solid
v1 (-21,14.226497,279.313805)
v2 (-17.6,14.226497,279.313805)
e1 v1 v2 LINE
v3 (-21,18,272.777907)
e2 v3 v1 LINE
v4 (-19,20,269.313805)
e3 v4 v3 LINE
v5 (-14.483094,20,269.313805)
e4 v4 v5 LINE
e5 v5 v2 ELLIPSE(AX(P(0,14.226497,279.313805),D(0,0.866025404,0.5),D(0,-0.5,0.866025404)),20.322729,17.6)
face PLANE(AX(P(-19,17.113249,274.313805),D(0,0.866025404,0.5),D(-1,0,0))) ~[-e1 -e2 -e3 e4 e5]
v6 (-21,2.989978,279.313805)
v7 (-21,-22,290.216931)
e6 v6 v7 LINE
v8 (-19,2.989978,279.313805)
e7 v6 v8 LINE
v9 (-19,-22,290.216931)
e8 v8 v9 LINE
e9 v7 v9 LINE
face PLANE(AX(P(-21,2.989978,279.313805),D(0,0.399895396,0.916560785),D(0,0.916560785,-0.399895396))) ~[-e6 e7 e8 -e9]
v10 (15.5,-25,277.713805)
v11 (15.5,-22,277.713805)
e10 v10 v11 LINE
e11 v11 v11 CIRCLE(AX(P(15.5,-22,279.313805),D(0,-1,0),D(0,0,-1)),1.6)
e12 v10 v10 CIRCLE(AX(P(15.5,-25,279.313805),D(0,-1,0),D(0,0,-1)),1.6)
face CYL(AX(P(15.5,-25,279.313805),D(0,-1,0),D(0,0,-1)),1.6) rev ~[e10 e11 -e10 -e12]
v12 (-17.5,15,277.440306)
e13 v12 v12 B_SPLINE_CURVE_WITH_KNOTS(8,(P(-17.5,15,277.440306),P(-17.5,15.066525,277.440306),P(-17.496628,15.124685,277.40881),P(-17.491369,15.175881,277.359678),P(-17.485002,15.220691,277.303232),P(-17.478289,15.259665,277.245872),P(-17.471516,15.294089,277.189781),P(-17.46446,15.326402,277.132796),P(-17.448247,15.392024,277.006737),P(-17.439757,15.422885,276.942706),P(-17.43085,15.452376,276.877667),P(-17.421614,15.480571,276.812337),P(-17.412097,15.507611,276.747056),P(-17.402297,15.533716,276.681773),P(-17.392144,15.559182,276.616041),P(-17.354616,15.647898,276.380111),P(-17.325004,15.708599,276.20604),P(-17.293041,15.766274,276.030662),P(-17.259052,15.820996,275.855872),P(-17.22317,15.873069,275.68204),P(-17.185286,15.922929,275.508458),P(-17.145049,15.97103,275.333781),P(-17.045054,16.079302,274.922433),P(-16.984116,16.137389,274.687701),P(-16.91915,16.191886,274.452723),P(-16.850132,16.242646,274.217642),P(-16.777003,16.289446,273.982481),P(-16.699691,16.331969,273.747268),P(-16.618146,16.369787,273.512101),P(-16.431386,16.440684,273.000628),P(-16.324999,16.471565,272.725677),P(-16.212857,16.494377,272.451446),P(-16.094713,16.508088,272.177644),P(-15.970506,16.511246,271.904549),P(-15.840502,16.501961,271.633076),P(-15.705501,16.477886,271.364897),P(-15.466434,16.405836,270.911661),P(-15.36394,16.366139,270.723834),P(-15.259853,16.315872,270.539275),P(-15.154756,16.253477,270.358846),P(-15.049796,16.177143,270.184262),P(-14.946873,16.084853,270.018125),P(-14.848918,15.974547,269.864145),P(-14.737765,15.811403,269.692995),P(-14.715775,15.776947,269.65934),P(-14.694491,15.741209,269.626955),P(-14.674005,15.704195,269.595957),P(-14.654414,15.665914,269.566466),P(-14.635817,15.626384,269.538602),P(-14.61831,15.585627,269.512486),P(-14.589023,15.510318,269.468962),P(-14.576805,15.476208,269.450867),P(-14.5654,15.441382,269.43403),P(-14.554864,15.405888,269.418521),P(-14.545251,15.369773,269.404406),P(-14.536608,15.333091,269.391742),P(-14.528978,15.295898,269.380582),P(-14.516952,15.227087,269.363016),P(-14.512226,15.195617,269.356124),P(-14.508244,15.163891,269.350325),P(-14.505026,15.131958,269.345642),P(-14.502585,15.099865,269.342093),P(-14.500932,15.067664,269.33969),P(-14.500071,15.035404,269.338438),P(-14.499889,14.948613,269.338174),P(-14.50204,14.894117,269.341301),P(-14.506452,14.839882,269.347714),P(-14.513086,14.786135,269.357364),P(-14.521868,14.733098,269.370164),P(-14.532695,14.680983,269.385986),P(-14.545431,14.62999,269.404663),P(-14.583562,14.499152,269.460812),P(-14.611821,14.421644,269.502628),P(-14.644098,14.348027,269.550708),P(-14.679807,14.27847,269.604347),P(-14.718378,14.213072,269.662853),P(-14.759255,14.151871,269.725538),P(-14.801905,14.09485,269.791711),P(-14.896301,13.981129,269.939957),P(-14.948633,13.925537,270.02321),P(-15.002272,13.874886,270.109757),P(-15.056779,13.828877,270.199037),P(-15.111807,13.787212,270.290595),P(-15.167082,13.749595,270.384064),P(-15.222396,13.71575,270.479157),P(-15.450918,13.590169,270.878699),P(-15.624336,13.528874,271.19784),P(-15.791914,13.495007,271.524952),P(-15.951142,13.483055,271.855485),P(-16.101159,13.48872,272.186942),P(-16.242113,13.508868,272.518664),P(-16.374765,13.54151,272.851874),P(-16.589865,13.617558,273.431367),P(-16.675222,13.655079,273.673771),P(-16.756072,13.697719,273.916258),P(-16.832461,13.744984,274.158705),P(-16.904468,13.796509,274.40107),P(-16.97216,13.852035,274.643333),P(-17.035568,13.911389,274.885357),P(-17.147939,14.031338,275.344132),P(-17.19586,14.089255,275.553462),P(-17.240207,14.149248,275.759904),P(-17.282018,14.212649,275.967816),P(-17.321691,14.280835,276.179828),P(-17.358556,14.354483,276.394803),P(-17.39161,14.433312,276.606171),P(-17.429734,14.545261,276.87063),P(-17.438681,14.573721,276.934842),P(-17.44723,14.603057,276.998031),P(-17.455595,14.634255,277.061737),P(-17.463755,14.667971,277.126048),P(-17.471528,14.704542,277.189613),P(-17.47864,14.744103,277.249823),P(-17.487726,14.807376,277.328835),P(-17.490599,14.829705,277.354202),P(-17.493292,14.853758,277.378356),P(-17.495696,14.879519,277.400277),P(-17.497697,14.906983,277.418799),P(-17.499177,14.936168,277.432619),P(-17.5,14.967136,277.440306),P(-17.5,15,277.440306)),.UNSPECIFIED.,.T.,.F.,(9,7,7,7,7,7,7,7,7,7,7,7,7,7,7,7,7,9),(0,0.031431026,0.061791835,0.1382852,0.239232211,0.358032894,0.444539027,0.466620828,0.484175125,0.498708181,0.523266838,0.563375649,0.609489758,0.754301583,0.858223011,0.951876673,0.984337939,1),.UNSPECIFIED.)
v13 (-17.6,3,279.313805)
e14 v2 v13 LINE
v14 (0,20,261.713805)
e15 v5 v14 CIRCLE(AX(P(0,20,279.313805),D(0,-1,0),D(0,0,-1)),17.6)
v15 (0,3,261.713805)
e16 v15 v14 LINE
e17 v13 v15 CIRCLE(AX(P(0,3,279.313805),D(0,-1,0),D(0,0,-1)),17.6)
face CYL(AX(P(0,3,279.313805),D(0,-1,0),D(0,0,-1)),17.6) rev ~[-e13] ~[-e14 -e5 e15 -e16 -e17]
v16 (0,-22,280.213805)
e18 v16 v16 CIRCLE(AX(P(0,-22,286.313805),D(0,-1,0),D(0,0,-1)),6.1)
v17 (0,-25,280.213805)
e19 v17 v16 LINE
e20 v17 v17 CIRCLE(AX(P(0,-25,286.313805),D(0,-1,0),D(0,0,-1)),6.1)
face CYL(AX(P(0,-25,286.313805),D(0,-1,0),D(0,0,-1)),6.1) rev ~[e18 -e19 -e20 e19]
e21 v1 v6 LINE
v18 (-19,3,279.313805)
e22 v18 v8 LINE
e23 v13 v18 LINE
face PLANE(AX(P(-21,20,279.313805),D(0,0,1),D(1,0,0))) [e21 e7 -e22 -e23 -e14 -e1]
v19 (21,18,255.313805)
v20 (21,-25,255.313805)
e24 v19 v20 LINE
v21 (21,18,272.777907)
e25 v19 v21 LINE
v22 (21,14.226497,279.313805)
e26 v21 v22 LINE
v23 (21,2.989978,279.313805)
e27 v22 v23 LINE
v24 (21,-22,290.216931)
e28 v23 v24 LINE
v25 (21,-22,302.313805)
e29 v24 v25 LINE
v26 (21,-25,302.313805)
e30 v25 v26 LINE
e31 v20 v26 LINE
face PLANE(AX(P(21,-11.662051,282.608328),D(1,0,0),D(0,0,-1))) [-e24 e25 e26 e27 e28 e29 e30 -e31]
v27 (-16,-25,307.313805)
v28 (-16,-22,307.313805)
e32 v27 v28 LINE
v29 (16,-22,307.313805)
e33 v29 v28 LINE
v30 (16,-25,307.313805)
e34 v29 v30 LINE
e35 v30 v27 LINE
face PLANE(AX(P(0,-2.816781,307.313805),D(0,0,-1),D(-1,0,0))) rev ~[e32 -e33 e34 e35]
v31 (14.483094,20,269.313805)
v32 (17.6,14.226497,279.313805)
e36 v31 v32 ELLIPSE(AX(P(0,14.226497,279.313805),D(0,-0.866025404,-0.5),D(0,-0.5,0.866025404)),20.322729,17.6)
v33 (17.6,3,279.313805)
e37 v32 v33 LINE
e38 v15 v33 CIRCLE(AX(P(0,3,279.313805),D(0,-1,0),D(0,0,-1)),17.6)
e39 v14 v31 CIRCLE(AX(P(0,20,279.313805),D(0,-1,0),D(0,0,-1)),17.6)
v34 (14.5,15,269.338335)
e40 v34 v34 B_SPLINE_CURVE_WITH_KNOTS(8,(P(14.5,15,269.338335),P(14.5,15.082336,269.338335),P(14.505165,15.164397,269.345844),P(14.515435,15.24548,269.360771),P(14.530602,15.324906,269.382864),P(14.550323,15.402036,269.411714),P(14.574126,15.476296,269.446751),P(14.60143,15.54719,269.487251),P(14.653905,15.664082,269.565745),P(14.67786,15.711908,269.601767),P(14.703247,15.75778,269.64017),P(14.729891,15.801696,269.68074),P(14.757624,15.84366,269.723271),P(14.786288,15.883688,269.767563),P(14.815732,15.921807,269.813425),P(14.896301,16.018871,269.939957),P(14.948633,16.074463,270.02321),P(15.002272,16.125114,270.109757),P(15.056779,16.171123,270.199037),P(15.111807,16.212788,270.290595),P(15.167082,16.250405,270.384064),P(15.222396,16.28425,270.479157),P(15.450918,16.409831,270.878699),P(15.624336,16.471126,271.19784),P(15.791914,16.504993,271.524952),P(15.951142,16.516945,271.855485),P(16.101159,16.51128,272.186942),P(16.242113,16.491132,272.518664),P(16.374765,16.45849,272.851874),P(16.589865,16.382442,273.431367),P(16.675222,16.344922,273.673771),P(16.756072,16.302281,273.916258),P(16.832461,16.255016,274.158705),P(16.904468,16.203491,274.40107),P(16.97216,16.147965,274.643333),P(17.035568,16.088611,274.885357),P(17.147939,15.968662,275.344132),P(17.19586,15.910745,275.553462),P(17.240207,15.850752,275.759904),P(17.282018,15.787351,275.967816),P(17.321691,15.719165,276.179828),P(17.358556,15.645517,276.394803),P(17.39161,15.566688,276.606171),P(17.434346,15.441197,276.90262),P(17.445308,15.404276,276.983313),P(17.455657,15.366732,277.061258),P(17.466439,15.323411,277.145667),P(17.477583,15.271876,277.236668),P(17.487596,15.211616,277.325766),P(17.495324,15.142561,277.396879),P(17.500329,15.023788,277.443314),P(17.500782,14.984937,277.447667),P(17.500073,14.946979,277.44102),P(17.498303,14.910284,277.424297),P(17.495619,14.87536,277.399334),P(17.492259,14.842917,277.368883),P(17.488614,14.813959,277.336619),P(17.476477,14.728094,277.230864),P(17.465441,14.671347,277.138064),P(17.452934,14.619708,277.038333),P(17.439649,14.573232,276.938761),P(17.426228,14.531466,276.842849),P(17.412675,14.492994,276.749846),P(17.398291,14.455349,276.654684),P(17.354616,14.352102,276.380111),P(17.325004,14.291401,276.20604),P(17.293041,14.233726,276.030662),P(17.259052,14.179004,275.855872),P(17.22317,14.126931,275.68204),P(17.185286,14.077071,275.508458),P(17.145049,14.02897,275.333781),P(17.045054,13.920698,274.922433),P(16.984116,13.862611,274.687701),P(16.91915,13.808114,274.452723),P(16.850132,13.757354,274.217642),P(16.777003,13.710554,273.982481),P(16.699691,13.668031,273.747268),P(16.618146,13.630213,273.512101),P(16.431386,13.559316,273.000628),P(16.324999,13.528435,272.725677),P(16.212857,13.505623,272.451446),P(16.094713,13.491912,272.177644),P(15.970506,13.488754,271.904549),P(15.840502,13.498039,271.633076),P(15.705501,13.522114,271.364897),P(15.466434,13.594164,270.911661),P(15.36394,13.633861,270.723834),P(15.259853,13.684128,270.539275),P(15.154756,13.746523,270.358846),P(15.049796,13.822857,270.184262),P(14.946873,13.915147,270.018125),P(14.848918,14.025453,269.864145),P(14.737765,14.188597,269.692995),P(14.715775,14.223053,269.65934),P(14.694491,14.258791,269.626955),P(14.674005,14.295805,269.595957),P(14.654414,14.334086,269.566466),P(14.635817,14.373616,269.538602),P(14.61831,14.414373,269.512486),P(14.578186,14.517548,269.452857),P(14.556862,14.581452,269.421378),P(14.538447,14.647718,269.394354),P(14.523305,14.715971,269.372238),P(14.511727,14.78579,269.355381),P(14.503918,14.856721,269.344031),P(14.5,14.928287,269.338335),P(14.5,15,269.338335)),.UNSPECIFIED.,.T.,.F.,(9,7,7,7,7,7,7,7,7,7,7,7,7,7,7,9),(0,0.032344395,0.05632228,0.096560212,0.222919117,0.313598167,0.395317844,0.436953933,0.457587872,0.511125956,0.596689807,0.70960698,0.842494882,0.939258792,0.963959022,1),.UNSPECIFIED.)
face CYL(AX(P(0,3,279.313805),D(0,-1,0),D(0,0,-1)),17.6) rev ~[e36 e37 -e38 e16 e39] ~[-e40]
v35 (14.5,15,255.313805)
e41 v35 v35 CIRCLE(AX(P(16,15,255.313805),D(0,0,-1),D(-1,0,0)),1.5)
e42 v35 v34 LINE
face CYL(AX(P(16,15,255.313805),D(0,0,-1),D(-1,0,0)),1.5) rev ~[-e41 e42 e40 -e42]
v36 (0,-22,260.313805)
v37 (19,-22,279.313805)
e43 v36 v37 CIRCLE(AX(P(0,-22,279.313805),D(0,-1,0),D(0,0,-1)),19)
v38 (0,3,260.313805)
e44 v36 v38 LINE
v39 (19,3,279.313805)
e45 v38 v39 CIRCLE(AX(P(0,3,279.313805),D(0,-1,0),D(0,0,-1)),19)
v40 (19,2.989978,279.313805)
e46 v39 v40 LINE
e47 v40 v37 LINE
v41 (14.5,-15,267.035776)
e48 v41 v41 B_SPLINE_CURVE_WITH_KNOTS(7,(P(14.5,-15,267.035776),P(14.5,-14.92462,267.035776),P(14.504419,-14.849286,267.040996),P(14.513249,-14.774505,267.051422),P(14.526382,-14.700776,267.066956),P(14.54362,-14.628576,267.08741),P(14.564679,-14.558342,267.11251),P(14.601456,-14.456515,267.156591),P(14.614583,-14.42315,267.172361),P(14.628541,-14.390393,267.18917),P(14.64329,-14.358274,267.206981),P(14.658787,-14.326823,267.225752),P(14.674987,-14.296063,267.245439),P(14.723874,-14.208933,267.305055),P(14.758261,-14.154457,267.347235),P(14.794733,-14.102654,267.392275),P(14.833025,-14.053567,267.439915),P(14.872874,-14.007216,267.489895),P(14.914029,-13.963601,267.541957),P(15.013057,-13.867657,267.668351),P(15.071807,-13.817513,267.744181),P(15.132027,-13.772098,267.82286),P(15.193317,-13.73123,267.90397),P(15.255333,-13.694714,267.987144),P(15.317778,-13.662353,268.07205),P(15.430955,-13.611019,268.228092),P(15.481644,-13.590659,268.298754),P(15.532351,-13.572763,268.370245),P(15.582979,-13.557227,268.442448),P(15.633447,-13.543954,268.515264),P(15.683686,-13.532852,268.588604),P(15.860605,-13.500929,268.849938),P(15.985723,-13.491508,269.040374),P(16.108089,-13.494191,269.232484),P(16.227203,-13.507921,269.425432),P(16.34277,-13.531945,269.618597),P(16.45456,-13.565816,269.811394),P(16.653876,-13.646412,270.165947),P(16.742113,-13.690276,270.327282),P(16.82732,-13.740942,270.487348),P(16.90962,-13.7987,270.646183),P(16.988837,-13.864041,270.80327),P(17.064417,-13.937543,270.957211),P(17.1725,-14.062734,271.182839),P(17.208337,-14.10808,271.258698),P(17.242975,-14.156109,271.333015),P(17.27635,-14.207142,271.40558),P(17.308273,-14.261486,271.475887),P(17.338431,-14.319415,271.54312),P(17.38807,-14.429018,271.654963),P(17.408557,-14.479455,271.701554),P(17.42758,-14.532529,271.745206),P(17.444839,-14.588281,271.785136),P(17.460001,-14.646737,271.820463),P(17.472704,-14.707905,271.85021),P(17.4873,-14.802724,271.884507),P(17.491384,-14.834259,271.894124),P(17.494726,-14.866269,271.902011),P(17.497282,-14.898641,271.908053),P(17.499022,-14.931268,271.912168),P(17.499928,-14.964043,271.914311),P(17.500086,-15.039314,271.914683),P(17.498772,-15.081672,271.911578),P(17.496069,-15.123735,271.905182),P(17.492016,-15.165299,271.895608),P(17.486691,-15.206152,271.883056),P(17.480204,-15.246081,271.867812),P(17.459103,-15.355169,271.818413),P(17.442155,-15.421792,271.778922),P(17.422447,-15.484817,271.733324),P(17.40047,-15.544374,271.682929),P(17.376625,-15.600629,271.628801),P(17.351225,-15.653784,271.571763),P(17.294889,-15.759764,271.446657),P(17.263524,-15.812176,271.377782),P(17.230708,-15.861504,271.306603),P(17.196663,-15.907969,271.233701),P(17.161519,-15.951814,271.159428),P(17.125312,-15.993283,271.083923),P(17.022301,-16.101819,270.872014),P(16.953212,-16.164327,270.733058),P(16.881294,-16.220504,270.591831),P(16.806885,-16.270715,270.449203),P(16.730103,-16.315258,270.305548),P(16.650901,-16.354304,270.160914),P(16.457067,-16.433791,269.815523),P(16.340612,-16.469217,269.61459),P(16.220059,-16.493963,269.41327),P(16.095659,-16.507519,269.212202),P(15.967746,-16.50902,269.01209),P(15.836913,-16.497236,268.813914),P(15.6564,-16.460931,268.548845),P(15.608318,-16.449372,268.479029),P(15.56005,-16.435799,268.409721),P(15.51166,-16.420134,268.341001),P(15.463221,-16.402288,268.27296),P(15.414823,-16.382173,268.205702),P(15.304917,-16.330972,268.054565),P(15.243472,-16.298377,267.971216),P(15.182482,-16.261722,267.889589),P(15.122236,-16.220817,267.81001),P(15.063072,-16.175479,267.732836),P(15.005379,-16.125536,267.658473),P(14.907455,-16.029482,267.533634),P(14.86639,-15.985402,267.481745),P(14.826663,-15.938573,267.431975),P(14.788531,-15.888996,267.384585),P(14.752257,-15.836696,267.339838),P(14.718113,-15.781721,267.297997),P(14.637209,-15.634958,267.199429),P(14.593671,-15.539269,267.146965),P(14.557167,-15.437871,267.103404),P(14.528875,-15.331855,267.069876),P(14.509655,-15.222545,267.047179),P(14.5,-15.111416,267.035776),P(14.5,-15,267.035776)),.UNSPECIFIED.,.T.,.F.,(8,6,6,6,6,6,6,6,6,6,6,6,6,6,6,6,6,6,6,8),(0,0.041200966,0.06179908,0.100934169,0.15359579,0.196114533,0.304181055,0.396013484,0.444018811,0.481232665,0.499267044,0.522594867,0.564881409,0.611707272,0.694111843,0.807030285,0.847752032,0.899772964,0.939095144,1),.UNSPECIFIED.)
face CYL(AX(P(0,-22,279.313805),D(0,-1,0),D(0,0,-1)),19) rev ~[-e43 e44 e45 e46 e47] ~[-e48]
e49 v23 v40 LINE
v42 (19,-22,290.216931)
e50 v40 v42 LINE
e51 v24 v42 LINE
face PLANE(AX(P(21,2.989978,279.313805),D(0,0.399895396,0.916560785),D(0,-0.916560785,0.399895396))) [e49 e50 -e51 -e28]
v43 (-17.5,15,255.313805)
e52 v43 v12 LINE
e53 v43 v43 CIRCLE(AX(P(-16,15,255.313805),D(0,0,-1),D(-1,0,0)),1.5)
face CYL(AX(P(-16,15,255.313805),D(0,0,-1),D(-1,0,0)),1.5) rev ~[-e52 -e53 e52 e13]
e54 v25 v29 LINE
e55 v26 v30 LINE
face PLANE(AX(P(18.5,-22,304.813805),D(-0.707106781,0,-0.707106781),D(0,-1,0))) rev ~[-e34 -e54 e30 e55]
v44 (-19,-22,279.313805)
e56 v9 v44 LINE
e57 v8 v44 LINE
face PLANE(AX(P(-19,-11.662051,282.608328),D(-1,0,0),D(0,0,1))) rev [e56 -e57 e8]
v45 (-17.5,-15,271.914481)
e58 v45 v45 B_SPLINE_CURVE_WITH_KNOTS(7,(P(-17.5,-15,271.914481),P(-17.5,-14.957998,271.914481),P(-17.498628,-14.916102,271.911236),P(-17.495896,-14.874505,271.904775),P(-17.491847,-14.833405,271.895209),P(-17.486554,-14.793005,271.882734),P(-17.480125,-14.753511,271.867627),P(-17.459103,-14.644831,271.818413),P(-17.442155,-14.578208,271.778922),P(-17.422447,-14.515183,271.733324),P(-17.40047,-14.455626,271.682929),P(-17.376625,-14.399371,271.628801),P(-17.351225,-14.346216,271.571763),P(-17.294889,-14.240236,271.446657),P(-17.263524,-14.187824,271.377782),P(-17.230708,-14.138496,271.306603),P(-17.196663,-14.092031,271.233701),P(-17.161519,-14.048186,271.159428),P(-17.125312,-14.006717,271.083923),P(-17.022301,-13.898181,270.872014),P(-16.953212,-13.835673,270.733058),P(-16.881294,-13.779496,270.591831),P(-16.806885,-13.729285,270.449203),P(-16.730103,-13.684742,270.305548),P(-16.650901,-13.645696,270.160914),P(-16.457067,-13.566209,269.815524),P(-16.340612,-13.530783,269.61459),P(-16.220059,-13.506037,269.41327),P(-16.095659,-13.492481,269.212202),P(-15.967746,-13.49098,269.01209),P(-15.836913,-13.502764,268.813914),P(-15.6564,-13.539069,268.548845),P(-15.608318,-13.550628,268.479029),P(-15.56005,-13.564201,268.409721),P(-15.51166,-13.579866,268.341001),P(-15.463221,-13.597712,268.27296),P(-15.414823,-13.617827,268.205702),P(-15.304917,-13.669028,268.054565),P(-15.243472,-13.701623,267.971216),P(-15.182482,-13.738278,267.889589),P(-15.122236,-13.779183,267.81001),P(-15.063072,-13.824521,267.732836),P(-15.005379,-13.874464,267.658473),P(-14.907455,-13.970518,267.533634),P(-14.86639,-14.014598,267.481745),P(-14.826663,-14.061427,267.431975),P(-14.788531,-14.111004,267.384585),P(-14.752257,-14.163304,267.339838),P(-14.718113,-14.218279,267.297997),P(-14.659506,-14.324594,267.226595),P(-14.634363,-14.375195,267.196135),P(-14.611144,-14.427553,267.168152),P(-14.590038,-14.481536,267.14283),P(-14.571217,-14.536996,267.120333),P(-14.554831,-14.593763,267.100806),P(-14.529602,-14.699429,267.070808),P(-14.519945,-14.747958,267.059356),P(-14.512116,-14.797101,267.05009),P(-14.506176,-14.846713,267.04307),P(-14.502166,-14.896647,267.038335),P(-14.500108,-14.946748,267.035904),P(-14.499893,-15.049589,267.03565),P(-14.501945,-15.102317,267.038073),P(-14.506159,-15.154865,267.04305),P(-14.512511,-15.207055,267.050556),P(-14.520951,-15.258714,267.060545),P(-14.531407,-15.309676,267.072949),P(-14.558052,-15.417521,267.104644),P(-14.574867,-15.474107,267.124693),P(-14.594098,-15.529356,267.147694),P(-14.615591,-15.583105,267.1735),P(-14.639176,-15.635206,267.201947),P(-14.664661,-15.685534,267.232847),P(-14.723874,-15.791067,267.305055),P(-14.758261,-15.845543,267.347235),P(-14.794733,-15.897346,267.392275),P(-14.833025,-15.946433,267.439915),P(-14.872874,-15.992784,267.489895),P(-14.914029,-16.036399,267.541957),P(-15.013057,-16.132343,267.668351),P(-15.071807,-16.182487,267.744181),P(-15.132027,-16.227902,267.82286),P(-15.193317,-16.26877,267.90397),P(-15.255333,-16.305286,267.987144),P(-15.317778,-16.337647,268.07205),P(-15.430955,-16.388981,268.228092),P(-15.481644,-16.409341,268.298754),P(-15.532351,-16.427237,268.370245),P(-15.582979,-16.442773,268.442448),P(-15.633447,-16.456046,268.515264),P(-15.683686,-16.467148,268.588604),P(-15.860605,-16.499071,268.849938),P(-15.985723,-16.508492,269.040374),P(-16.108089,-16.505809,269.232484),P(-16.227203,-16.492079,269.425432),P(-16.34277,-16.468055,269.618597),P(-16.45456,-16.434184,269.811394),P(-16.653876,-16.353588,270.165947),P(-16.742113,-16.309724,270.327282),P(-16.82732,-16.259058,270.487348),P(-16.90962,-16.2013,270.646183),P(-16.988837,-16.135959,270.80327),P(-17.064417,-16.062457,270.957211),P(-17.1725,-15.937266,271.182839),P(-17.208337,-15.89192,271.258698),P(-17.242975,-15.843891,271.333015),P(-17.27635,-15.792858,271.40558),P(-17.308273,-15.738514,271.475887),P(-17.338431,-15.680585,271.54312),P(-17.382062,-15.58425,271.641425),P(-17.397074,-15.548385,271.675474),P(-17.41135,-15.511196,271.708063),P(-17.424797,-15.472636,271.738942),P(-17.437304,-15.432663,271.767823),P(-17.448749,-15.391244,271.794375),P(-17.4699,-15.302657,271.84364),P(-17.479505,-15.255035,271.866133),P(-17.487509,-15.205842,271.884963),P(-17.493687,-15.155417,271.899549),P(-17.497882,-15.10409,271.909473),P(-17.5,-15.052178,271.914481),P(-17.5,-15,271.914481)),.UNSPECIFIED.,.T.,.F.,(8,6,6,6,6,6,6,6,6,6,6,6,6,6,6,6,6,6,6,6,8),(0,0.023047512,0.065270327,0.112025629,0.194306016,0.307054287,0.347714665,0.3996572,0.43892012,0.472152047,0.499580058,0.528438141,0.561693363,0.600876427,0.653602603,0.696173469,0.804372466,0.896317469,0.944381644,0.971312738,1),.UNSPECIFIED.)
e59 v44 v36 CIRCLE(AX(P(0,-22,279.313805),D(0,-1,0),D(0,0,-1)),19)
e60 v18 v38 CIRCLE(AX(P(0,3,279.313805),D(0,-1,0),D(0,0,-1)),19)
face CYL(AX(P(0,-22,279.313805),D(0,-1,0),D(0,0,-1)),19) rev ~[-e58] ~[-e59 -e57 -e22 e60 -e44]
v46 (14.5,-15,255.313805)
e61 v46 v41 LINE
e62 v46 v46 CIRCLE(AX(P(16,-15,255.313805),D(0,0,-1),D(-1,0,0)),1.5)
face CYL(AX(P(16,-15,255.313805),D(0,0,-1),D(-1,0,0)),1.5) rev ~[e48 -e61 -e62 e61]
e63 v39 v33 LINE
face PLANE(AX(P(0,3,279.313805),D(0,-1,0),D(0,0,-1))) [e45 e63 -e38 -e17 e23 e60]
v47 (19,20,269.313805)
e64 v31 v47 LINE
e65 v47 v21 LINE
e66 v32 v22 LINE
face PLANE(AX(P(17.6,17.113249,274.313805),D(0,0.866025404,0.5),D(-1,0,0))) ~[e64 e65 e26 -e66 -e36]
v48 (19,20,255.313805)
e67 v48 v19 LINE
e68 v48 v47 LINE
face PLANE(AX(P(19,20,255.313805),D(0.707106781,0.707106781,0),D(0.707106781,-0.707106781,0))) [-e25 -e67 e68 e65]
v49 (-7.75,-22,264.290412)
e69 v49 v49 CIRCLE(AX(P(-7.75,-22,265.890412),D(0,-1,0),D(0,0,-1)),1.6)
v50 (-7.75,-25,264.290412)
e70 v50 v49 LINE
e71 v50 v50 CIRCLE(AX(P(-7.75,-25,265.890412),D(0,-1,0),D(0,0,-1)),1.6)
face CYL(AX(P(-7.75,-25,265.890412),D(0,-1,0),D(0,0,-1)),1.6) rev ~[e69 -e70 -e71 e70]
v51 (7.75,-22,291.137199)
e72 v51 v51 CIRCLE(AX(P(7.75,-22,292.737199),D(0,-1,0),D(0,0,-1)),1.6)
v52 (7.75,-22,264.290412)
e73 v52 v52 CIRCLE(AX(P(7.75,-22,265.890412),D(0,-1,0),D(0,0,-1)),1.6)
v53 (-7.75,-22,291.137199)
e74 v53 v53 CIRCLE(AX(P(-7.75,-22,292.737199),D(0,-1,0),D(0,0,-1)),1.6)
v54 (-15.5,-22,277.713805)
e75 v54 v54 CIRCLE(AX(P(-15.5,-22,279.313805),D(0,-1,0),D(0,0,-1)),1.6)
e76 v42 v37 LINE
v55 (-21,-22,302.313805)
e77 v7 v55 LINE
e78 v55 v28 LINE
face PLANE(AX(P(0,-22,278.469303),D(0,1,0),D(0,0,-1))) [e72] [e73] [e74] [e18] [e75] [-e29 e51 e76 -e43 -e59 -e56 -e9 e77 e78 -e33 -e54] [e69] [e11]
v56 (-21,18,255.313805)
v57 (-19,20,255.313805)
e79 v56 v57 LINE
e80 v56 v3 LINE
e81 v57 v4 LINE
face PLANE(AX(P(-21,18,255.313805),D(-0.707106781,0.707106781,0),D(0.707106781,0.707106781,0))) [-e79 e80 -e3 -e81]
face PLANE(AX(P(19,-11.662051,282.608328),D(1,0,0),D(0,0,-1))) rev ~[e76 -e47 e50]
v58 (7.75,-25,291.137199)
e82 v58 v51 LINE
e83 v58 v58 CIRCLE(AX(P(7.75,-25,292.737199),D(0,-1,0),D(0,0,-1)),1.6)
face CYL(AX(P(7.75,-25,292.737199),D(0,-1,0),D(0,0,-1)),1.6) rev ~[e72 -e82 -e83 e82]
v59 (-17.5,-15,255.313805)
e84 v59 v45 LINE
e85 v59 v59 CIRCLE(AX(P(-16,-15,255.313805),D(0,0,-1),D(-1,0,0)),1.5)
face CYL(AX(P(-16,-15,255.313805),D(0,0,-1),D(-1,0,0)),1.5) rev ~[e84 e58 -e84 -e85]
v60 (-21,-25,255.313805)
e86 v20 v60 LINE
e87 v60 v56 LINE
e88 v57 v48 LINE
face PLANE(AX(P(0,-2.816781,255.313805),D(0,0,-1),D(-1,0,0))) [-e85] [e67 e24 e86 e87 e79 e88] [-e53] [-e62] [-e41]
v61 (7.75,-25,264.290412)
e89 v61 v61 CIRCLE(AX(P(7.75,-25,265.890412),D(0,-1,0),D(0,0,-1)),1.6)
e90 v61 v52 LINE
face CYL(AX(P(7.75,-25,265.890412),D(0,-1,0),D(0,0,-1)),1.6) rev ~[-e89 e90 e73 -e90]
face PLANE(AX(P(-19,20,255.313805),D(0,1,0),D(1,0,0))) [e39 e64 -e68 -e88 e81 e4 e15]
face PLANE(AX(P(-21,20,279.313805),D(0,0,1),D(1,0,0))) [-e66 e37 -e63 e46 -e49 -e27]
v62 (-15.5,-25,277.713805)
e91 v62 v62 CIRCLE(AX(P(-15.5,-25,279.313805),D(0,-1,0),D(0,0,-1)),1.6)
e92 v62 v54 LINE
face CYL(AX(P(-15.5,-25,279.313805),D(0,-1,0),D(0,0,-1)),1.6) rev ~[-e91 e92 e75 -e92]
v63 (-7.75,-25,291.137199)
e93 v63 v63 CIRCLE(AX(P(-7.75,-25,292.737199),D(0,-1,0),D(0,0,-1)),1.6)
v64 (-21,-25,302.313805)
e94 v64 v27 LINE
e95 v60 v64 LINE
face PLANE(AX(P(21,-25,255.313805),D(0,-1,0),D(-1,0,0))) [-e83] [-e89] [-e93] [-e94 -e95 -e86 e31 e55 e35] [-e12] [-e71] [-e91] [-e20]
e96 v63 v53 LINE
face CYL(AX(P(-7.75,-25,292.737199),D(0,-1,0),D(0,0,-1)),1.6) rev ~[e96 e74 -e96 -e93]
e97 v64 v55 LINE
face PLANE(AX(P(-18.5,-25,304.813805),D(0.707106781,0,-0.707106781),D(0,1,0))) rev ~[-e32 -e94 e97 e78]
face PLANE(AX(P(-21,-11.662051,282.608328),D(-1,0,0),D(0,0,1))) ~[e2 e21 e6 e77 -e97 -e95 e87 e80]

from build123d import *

# Parameters (mm, degrees)
SKETCH_2_R          = 1.5
EXTRUDE_1_DEPTH     = 52
CUT_EXTRUDE_START   = -3
SKETCH_3_R          = 19
SKETCH_3_R_2        = 1.6
CUT_EXTRUDE_1_DEPTH = 25
SKETCH_3_3_R        = 1.6
CUT_EXTRUDE_2_DEPTH = 25
SKETCH_5_R          = 17.6
CUT_EXTRUDE_3_DEPTH = 310.300460798
SKETCH_6_R          = 6.1
CUT_EXTRUDE_4_DEPTH = 3
CUT_EXTRUDE_5_REACH = 313.3
SKETCH_7_W          = 42
SKETCH_7_H          = 28
CHAMFER_1_SIZE      = 5
CHAMFER_5_SIZE      = 10
CHAMFER_5_SIZE2     = 5.773502692
EXTRUDE_2_DEPTH     = 2


with BuildPart() as part:
    # 草图2 → 凸台-拉伸1 (new body)
    with BuildSketch(Plane(origin=(0, 0, 255.313805399), x_dir=(-1, 0, 0), z_dir=(0, 0, -1))):
        Polygon((21, 18), (19, 20), (-19, 20), (-21, 18), (-21, -25), (21, -25), align=None)
        with Locations((16, -15)):
            Circle(SKETCH_2_R, mode=Mode.SUBTRACT)
        with Locations((16, 15)):
            Circle(SKETCH_2_R, mode=Mode.SUBTRACT)
        with Locations((-16, 15)):
            Circle(SKETCH_2_R, mode=Mode.SUBTRACT)
        with Locations((-16, -15)):
            Circle(SKETCH_2_R, mode=Mode.SUBTRACT)
    extrude(amount=-EXTRUDE_1_DEPTH)

    # 草图3 → 切除-拉伸1 (cut)
    # profile 1 of 7: a face of its own
    with BuildSketch(Plane.XZ.offset(25).offset(CUT_EXTRUDE_START)):
        with Locations(Location((0, 279.313805399, 0), (0, 0, 270))):
            Circle(SKETCH_3_R)
        with Locations((15.5, 279.313805399)):
            Circle(SKETCH_3_R_2, mode=Mode.SUBTRACT)
        with Locations((7.75, 292.737199157)):
            Circle(SKETCH_3_R_2, mode=Mode.SUBTRACT)
        with Locations((-7.75, 292.737199157)):
            Circle(SKETCH_3_R_2, mode=Mode.SUBTRACT)
        with Locations((-15.5, 279.313805399)):
            Circle(SKETCH_3_R_2, mode=Mode.SUBTRACT)
        with Locations((-7.75, 265.89041164)):
            Circle(SKETCH_3_R_2, mode=Mode.SUBTRACT)
        with Locations((7.75, 265.89041164)):
            Circle(SKETCH_3_R_2, mode=Mode.SUBTRACT)
    # profile 2 of 7: a face of its own
    with BuildSketch(Plane.XZ.offset(25).offset(CUT_EXTRUDE_START)):
        with Locations((7.75, 292.737199157)):
            Circle(SKETCH_3_R_2)
    # profile 3 of 7: a face of its own
    with BuildSketch(Plane.XZ.offset(25).offset(CUT_EXTRUDE_START)):
        with Locations((-7.75, 292.737199157)):
            Circle(SKETCH_3_R_2)
    # profile 4 of 7: a face of its own
    with BuildSketch(Plane.XZ.offset(25).offset(CUT_EXTRUDE_START)):
        with Locations((-15.5, 279.313805399)):
            Circle(SKETCH_3_R_2)
    # profile 5 of 7: a face of its own
    with BuildSketch(Plane.XZ.offset(25).offset(CUT_EXTRUDE_START)):
        with Locations((-7.75, 265.89041164)):
            Circle(SKETCH_3_R_2)
    # profile 6 of 7: a face of its own
    with BuildSketch(Plane.XZ.offset(25).offset(CUT_EXTRUDE_START)):
        with Locations((7.75, 265.89041164)):
            Circle(SKETCH_3_R_2)
    # profile 7 of 7: a face of its own
    with BuildSketch(Plane.XZ.offset(25).offset(CUT_EXTRUDE_START)):
        with Locations((15.5, 279.313805399)):
            Circle(SKETCH_3_R_2)
    extrude(amount=-CUT_EXTRUDE_1_DEPTH, mode=Mode.SUBTRACT)

    # 草图3<3> → 切除-拉伸2 (cut)
    with BuildSketch(Plane.XZ.offset(25)):
        with Locations(Location((-7.75, 292.737199157, 0), (0, 0, 270))):
            Circle(SKETCH_3_3_R)
        with Locations(Location((7.75, 292.737199157, 0), (0, 0, 270))):
            Circle(SKETCH_3_3_R)
        with Locations(Location((-15.5, 279.313805399, 0), (0, 0, 270))):
            Circle(SKETCH_3_3_R)
        with Locations(Location((-7.75, 265.89041164, 0), (0, 0, 270))):
            Circle(SKETCH_3_3_R)
        with Locations(Location((7.75, 265.89041164, 0), (0, 0, 270))):
            Circle(SKETCH_3_3_R)
        with Locations(Location((15.5, 279.313805399, 0), (0, 0, 270))):
            Circle(SKETCH_3_3_R)
    extrude(amount=-CUT_EXTRUDE_2_DEPTH, mode=Mode.SUBTRACT)

    # 草图5 → 切除-拉伸3 (cut, through all)
    with BuildSketch(Plane.XZ.offset(-3)):
        with Locations(Location((0, 279.313805399, 0), (0, 0, 270))):
            Circle(SKETCH_5_R)
    extrude(amount=-CUT_EXTRUDE_3_DEPTH, mode=Mode.SUBTRACT)

    # 草图6 → 切除-拉伸4 (cut)
    with BuildSketch(Plane.XZ.offset(25)):
        with Locations(Location((0, 286.313805399, 0), (0, 0, 270))):
            Circle(SKETCH_6_R)
    extrude(amount=-CUT_EXTRUDE_4_DEPTH, mode=Mode.SUBTRACT)

    # 切除-拉伸5: up to this face of the body (flat: up to its plane)
    cut_extrude_5_end = Plane(part.part.faces().sort_by_distance((0, -22, 278.469302594))[0])
    # 草图7 → 切除-拉伸5 (cut, up to the picked face)
    with BuildSketch(Plane(origin=(0, 20, 0), x_dir=(1, 0, 0), z_dir=(0, 1, 0)), mode=Mode.PRIVATE) as cut_extrude_5_sk1:
        with Locations((0, -293.313805399)):
            Rectangle(SKETCH_7_W, SKETCH_7_H)
    cut_extrude_5_tool1 = split(extrude(cut_extrude_5_sk1.sketch, amount=-CUT_EXTRUDE_5_REACH, mode=Mode.PRIVATE), bisect_by=cut_extrude_5_end, keep=Keep.BOTH, mode=Mode.PRIVATE)
    add(cut_extrude_5_tool1.solids().sort_by(Axis((0, 20, 293.313805), (0, -1, 0)))[0], mode=Mode.SUBTRACT)

    # 倒角1
    chamfer_1_edges = [part.edges().sort_by_distance(p)[0] for p in [
        (21, -23.5, 307.313805399),
        (-21, -23.5, 307.313805399),
    ]]
    chamfer(chamfer_1_edges, length=CHAMFER_1_SIZE)

    # 倒角5
    chamfer_5_edges = [part.edges().sort_by_distance(p)[0] for p in [
        (-18.3, 20, 279.313805399),
        (18.3, 20, 279.313805399),
    ]]
    chamfer_5_side = [part.faces().sort_by_distance(p)[0] for p in [
        (0, 20, 255.7632495),
    ]]
    chamfer(chamfer_5_edges, length=CHAMFER_5_SIZE, length2=CHAMFER_5_SIZE2, reference=chamfer_5_side[0])

    # 草图8 → 凸台-拉伸2 (add)
    with BuildSketch(Plane(origin=(21, 0, 0), x_dir=(0, 0, -1), z_dir=(1, 0, 0))):
        Polygon((-279.313805399, -22), (-279.313805399, 2.989978389), (-290.216930942, -22), align=None)
    extrude_2 = extrude(amount=-EXTRUDE_2_DEPTH)

    # 镜向1: 凸台-拉伸2 across plane
    add(extrude_2.mirror(Plane(origin=(0, 0, 0), x_dir=(0, 0, 1), z_dir=(1, 0, 0))))


solid = part.part
